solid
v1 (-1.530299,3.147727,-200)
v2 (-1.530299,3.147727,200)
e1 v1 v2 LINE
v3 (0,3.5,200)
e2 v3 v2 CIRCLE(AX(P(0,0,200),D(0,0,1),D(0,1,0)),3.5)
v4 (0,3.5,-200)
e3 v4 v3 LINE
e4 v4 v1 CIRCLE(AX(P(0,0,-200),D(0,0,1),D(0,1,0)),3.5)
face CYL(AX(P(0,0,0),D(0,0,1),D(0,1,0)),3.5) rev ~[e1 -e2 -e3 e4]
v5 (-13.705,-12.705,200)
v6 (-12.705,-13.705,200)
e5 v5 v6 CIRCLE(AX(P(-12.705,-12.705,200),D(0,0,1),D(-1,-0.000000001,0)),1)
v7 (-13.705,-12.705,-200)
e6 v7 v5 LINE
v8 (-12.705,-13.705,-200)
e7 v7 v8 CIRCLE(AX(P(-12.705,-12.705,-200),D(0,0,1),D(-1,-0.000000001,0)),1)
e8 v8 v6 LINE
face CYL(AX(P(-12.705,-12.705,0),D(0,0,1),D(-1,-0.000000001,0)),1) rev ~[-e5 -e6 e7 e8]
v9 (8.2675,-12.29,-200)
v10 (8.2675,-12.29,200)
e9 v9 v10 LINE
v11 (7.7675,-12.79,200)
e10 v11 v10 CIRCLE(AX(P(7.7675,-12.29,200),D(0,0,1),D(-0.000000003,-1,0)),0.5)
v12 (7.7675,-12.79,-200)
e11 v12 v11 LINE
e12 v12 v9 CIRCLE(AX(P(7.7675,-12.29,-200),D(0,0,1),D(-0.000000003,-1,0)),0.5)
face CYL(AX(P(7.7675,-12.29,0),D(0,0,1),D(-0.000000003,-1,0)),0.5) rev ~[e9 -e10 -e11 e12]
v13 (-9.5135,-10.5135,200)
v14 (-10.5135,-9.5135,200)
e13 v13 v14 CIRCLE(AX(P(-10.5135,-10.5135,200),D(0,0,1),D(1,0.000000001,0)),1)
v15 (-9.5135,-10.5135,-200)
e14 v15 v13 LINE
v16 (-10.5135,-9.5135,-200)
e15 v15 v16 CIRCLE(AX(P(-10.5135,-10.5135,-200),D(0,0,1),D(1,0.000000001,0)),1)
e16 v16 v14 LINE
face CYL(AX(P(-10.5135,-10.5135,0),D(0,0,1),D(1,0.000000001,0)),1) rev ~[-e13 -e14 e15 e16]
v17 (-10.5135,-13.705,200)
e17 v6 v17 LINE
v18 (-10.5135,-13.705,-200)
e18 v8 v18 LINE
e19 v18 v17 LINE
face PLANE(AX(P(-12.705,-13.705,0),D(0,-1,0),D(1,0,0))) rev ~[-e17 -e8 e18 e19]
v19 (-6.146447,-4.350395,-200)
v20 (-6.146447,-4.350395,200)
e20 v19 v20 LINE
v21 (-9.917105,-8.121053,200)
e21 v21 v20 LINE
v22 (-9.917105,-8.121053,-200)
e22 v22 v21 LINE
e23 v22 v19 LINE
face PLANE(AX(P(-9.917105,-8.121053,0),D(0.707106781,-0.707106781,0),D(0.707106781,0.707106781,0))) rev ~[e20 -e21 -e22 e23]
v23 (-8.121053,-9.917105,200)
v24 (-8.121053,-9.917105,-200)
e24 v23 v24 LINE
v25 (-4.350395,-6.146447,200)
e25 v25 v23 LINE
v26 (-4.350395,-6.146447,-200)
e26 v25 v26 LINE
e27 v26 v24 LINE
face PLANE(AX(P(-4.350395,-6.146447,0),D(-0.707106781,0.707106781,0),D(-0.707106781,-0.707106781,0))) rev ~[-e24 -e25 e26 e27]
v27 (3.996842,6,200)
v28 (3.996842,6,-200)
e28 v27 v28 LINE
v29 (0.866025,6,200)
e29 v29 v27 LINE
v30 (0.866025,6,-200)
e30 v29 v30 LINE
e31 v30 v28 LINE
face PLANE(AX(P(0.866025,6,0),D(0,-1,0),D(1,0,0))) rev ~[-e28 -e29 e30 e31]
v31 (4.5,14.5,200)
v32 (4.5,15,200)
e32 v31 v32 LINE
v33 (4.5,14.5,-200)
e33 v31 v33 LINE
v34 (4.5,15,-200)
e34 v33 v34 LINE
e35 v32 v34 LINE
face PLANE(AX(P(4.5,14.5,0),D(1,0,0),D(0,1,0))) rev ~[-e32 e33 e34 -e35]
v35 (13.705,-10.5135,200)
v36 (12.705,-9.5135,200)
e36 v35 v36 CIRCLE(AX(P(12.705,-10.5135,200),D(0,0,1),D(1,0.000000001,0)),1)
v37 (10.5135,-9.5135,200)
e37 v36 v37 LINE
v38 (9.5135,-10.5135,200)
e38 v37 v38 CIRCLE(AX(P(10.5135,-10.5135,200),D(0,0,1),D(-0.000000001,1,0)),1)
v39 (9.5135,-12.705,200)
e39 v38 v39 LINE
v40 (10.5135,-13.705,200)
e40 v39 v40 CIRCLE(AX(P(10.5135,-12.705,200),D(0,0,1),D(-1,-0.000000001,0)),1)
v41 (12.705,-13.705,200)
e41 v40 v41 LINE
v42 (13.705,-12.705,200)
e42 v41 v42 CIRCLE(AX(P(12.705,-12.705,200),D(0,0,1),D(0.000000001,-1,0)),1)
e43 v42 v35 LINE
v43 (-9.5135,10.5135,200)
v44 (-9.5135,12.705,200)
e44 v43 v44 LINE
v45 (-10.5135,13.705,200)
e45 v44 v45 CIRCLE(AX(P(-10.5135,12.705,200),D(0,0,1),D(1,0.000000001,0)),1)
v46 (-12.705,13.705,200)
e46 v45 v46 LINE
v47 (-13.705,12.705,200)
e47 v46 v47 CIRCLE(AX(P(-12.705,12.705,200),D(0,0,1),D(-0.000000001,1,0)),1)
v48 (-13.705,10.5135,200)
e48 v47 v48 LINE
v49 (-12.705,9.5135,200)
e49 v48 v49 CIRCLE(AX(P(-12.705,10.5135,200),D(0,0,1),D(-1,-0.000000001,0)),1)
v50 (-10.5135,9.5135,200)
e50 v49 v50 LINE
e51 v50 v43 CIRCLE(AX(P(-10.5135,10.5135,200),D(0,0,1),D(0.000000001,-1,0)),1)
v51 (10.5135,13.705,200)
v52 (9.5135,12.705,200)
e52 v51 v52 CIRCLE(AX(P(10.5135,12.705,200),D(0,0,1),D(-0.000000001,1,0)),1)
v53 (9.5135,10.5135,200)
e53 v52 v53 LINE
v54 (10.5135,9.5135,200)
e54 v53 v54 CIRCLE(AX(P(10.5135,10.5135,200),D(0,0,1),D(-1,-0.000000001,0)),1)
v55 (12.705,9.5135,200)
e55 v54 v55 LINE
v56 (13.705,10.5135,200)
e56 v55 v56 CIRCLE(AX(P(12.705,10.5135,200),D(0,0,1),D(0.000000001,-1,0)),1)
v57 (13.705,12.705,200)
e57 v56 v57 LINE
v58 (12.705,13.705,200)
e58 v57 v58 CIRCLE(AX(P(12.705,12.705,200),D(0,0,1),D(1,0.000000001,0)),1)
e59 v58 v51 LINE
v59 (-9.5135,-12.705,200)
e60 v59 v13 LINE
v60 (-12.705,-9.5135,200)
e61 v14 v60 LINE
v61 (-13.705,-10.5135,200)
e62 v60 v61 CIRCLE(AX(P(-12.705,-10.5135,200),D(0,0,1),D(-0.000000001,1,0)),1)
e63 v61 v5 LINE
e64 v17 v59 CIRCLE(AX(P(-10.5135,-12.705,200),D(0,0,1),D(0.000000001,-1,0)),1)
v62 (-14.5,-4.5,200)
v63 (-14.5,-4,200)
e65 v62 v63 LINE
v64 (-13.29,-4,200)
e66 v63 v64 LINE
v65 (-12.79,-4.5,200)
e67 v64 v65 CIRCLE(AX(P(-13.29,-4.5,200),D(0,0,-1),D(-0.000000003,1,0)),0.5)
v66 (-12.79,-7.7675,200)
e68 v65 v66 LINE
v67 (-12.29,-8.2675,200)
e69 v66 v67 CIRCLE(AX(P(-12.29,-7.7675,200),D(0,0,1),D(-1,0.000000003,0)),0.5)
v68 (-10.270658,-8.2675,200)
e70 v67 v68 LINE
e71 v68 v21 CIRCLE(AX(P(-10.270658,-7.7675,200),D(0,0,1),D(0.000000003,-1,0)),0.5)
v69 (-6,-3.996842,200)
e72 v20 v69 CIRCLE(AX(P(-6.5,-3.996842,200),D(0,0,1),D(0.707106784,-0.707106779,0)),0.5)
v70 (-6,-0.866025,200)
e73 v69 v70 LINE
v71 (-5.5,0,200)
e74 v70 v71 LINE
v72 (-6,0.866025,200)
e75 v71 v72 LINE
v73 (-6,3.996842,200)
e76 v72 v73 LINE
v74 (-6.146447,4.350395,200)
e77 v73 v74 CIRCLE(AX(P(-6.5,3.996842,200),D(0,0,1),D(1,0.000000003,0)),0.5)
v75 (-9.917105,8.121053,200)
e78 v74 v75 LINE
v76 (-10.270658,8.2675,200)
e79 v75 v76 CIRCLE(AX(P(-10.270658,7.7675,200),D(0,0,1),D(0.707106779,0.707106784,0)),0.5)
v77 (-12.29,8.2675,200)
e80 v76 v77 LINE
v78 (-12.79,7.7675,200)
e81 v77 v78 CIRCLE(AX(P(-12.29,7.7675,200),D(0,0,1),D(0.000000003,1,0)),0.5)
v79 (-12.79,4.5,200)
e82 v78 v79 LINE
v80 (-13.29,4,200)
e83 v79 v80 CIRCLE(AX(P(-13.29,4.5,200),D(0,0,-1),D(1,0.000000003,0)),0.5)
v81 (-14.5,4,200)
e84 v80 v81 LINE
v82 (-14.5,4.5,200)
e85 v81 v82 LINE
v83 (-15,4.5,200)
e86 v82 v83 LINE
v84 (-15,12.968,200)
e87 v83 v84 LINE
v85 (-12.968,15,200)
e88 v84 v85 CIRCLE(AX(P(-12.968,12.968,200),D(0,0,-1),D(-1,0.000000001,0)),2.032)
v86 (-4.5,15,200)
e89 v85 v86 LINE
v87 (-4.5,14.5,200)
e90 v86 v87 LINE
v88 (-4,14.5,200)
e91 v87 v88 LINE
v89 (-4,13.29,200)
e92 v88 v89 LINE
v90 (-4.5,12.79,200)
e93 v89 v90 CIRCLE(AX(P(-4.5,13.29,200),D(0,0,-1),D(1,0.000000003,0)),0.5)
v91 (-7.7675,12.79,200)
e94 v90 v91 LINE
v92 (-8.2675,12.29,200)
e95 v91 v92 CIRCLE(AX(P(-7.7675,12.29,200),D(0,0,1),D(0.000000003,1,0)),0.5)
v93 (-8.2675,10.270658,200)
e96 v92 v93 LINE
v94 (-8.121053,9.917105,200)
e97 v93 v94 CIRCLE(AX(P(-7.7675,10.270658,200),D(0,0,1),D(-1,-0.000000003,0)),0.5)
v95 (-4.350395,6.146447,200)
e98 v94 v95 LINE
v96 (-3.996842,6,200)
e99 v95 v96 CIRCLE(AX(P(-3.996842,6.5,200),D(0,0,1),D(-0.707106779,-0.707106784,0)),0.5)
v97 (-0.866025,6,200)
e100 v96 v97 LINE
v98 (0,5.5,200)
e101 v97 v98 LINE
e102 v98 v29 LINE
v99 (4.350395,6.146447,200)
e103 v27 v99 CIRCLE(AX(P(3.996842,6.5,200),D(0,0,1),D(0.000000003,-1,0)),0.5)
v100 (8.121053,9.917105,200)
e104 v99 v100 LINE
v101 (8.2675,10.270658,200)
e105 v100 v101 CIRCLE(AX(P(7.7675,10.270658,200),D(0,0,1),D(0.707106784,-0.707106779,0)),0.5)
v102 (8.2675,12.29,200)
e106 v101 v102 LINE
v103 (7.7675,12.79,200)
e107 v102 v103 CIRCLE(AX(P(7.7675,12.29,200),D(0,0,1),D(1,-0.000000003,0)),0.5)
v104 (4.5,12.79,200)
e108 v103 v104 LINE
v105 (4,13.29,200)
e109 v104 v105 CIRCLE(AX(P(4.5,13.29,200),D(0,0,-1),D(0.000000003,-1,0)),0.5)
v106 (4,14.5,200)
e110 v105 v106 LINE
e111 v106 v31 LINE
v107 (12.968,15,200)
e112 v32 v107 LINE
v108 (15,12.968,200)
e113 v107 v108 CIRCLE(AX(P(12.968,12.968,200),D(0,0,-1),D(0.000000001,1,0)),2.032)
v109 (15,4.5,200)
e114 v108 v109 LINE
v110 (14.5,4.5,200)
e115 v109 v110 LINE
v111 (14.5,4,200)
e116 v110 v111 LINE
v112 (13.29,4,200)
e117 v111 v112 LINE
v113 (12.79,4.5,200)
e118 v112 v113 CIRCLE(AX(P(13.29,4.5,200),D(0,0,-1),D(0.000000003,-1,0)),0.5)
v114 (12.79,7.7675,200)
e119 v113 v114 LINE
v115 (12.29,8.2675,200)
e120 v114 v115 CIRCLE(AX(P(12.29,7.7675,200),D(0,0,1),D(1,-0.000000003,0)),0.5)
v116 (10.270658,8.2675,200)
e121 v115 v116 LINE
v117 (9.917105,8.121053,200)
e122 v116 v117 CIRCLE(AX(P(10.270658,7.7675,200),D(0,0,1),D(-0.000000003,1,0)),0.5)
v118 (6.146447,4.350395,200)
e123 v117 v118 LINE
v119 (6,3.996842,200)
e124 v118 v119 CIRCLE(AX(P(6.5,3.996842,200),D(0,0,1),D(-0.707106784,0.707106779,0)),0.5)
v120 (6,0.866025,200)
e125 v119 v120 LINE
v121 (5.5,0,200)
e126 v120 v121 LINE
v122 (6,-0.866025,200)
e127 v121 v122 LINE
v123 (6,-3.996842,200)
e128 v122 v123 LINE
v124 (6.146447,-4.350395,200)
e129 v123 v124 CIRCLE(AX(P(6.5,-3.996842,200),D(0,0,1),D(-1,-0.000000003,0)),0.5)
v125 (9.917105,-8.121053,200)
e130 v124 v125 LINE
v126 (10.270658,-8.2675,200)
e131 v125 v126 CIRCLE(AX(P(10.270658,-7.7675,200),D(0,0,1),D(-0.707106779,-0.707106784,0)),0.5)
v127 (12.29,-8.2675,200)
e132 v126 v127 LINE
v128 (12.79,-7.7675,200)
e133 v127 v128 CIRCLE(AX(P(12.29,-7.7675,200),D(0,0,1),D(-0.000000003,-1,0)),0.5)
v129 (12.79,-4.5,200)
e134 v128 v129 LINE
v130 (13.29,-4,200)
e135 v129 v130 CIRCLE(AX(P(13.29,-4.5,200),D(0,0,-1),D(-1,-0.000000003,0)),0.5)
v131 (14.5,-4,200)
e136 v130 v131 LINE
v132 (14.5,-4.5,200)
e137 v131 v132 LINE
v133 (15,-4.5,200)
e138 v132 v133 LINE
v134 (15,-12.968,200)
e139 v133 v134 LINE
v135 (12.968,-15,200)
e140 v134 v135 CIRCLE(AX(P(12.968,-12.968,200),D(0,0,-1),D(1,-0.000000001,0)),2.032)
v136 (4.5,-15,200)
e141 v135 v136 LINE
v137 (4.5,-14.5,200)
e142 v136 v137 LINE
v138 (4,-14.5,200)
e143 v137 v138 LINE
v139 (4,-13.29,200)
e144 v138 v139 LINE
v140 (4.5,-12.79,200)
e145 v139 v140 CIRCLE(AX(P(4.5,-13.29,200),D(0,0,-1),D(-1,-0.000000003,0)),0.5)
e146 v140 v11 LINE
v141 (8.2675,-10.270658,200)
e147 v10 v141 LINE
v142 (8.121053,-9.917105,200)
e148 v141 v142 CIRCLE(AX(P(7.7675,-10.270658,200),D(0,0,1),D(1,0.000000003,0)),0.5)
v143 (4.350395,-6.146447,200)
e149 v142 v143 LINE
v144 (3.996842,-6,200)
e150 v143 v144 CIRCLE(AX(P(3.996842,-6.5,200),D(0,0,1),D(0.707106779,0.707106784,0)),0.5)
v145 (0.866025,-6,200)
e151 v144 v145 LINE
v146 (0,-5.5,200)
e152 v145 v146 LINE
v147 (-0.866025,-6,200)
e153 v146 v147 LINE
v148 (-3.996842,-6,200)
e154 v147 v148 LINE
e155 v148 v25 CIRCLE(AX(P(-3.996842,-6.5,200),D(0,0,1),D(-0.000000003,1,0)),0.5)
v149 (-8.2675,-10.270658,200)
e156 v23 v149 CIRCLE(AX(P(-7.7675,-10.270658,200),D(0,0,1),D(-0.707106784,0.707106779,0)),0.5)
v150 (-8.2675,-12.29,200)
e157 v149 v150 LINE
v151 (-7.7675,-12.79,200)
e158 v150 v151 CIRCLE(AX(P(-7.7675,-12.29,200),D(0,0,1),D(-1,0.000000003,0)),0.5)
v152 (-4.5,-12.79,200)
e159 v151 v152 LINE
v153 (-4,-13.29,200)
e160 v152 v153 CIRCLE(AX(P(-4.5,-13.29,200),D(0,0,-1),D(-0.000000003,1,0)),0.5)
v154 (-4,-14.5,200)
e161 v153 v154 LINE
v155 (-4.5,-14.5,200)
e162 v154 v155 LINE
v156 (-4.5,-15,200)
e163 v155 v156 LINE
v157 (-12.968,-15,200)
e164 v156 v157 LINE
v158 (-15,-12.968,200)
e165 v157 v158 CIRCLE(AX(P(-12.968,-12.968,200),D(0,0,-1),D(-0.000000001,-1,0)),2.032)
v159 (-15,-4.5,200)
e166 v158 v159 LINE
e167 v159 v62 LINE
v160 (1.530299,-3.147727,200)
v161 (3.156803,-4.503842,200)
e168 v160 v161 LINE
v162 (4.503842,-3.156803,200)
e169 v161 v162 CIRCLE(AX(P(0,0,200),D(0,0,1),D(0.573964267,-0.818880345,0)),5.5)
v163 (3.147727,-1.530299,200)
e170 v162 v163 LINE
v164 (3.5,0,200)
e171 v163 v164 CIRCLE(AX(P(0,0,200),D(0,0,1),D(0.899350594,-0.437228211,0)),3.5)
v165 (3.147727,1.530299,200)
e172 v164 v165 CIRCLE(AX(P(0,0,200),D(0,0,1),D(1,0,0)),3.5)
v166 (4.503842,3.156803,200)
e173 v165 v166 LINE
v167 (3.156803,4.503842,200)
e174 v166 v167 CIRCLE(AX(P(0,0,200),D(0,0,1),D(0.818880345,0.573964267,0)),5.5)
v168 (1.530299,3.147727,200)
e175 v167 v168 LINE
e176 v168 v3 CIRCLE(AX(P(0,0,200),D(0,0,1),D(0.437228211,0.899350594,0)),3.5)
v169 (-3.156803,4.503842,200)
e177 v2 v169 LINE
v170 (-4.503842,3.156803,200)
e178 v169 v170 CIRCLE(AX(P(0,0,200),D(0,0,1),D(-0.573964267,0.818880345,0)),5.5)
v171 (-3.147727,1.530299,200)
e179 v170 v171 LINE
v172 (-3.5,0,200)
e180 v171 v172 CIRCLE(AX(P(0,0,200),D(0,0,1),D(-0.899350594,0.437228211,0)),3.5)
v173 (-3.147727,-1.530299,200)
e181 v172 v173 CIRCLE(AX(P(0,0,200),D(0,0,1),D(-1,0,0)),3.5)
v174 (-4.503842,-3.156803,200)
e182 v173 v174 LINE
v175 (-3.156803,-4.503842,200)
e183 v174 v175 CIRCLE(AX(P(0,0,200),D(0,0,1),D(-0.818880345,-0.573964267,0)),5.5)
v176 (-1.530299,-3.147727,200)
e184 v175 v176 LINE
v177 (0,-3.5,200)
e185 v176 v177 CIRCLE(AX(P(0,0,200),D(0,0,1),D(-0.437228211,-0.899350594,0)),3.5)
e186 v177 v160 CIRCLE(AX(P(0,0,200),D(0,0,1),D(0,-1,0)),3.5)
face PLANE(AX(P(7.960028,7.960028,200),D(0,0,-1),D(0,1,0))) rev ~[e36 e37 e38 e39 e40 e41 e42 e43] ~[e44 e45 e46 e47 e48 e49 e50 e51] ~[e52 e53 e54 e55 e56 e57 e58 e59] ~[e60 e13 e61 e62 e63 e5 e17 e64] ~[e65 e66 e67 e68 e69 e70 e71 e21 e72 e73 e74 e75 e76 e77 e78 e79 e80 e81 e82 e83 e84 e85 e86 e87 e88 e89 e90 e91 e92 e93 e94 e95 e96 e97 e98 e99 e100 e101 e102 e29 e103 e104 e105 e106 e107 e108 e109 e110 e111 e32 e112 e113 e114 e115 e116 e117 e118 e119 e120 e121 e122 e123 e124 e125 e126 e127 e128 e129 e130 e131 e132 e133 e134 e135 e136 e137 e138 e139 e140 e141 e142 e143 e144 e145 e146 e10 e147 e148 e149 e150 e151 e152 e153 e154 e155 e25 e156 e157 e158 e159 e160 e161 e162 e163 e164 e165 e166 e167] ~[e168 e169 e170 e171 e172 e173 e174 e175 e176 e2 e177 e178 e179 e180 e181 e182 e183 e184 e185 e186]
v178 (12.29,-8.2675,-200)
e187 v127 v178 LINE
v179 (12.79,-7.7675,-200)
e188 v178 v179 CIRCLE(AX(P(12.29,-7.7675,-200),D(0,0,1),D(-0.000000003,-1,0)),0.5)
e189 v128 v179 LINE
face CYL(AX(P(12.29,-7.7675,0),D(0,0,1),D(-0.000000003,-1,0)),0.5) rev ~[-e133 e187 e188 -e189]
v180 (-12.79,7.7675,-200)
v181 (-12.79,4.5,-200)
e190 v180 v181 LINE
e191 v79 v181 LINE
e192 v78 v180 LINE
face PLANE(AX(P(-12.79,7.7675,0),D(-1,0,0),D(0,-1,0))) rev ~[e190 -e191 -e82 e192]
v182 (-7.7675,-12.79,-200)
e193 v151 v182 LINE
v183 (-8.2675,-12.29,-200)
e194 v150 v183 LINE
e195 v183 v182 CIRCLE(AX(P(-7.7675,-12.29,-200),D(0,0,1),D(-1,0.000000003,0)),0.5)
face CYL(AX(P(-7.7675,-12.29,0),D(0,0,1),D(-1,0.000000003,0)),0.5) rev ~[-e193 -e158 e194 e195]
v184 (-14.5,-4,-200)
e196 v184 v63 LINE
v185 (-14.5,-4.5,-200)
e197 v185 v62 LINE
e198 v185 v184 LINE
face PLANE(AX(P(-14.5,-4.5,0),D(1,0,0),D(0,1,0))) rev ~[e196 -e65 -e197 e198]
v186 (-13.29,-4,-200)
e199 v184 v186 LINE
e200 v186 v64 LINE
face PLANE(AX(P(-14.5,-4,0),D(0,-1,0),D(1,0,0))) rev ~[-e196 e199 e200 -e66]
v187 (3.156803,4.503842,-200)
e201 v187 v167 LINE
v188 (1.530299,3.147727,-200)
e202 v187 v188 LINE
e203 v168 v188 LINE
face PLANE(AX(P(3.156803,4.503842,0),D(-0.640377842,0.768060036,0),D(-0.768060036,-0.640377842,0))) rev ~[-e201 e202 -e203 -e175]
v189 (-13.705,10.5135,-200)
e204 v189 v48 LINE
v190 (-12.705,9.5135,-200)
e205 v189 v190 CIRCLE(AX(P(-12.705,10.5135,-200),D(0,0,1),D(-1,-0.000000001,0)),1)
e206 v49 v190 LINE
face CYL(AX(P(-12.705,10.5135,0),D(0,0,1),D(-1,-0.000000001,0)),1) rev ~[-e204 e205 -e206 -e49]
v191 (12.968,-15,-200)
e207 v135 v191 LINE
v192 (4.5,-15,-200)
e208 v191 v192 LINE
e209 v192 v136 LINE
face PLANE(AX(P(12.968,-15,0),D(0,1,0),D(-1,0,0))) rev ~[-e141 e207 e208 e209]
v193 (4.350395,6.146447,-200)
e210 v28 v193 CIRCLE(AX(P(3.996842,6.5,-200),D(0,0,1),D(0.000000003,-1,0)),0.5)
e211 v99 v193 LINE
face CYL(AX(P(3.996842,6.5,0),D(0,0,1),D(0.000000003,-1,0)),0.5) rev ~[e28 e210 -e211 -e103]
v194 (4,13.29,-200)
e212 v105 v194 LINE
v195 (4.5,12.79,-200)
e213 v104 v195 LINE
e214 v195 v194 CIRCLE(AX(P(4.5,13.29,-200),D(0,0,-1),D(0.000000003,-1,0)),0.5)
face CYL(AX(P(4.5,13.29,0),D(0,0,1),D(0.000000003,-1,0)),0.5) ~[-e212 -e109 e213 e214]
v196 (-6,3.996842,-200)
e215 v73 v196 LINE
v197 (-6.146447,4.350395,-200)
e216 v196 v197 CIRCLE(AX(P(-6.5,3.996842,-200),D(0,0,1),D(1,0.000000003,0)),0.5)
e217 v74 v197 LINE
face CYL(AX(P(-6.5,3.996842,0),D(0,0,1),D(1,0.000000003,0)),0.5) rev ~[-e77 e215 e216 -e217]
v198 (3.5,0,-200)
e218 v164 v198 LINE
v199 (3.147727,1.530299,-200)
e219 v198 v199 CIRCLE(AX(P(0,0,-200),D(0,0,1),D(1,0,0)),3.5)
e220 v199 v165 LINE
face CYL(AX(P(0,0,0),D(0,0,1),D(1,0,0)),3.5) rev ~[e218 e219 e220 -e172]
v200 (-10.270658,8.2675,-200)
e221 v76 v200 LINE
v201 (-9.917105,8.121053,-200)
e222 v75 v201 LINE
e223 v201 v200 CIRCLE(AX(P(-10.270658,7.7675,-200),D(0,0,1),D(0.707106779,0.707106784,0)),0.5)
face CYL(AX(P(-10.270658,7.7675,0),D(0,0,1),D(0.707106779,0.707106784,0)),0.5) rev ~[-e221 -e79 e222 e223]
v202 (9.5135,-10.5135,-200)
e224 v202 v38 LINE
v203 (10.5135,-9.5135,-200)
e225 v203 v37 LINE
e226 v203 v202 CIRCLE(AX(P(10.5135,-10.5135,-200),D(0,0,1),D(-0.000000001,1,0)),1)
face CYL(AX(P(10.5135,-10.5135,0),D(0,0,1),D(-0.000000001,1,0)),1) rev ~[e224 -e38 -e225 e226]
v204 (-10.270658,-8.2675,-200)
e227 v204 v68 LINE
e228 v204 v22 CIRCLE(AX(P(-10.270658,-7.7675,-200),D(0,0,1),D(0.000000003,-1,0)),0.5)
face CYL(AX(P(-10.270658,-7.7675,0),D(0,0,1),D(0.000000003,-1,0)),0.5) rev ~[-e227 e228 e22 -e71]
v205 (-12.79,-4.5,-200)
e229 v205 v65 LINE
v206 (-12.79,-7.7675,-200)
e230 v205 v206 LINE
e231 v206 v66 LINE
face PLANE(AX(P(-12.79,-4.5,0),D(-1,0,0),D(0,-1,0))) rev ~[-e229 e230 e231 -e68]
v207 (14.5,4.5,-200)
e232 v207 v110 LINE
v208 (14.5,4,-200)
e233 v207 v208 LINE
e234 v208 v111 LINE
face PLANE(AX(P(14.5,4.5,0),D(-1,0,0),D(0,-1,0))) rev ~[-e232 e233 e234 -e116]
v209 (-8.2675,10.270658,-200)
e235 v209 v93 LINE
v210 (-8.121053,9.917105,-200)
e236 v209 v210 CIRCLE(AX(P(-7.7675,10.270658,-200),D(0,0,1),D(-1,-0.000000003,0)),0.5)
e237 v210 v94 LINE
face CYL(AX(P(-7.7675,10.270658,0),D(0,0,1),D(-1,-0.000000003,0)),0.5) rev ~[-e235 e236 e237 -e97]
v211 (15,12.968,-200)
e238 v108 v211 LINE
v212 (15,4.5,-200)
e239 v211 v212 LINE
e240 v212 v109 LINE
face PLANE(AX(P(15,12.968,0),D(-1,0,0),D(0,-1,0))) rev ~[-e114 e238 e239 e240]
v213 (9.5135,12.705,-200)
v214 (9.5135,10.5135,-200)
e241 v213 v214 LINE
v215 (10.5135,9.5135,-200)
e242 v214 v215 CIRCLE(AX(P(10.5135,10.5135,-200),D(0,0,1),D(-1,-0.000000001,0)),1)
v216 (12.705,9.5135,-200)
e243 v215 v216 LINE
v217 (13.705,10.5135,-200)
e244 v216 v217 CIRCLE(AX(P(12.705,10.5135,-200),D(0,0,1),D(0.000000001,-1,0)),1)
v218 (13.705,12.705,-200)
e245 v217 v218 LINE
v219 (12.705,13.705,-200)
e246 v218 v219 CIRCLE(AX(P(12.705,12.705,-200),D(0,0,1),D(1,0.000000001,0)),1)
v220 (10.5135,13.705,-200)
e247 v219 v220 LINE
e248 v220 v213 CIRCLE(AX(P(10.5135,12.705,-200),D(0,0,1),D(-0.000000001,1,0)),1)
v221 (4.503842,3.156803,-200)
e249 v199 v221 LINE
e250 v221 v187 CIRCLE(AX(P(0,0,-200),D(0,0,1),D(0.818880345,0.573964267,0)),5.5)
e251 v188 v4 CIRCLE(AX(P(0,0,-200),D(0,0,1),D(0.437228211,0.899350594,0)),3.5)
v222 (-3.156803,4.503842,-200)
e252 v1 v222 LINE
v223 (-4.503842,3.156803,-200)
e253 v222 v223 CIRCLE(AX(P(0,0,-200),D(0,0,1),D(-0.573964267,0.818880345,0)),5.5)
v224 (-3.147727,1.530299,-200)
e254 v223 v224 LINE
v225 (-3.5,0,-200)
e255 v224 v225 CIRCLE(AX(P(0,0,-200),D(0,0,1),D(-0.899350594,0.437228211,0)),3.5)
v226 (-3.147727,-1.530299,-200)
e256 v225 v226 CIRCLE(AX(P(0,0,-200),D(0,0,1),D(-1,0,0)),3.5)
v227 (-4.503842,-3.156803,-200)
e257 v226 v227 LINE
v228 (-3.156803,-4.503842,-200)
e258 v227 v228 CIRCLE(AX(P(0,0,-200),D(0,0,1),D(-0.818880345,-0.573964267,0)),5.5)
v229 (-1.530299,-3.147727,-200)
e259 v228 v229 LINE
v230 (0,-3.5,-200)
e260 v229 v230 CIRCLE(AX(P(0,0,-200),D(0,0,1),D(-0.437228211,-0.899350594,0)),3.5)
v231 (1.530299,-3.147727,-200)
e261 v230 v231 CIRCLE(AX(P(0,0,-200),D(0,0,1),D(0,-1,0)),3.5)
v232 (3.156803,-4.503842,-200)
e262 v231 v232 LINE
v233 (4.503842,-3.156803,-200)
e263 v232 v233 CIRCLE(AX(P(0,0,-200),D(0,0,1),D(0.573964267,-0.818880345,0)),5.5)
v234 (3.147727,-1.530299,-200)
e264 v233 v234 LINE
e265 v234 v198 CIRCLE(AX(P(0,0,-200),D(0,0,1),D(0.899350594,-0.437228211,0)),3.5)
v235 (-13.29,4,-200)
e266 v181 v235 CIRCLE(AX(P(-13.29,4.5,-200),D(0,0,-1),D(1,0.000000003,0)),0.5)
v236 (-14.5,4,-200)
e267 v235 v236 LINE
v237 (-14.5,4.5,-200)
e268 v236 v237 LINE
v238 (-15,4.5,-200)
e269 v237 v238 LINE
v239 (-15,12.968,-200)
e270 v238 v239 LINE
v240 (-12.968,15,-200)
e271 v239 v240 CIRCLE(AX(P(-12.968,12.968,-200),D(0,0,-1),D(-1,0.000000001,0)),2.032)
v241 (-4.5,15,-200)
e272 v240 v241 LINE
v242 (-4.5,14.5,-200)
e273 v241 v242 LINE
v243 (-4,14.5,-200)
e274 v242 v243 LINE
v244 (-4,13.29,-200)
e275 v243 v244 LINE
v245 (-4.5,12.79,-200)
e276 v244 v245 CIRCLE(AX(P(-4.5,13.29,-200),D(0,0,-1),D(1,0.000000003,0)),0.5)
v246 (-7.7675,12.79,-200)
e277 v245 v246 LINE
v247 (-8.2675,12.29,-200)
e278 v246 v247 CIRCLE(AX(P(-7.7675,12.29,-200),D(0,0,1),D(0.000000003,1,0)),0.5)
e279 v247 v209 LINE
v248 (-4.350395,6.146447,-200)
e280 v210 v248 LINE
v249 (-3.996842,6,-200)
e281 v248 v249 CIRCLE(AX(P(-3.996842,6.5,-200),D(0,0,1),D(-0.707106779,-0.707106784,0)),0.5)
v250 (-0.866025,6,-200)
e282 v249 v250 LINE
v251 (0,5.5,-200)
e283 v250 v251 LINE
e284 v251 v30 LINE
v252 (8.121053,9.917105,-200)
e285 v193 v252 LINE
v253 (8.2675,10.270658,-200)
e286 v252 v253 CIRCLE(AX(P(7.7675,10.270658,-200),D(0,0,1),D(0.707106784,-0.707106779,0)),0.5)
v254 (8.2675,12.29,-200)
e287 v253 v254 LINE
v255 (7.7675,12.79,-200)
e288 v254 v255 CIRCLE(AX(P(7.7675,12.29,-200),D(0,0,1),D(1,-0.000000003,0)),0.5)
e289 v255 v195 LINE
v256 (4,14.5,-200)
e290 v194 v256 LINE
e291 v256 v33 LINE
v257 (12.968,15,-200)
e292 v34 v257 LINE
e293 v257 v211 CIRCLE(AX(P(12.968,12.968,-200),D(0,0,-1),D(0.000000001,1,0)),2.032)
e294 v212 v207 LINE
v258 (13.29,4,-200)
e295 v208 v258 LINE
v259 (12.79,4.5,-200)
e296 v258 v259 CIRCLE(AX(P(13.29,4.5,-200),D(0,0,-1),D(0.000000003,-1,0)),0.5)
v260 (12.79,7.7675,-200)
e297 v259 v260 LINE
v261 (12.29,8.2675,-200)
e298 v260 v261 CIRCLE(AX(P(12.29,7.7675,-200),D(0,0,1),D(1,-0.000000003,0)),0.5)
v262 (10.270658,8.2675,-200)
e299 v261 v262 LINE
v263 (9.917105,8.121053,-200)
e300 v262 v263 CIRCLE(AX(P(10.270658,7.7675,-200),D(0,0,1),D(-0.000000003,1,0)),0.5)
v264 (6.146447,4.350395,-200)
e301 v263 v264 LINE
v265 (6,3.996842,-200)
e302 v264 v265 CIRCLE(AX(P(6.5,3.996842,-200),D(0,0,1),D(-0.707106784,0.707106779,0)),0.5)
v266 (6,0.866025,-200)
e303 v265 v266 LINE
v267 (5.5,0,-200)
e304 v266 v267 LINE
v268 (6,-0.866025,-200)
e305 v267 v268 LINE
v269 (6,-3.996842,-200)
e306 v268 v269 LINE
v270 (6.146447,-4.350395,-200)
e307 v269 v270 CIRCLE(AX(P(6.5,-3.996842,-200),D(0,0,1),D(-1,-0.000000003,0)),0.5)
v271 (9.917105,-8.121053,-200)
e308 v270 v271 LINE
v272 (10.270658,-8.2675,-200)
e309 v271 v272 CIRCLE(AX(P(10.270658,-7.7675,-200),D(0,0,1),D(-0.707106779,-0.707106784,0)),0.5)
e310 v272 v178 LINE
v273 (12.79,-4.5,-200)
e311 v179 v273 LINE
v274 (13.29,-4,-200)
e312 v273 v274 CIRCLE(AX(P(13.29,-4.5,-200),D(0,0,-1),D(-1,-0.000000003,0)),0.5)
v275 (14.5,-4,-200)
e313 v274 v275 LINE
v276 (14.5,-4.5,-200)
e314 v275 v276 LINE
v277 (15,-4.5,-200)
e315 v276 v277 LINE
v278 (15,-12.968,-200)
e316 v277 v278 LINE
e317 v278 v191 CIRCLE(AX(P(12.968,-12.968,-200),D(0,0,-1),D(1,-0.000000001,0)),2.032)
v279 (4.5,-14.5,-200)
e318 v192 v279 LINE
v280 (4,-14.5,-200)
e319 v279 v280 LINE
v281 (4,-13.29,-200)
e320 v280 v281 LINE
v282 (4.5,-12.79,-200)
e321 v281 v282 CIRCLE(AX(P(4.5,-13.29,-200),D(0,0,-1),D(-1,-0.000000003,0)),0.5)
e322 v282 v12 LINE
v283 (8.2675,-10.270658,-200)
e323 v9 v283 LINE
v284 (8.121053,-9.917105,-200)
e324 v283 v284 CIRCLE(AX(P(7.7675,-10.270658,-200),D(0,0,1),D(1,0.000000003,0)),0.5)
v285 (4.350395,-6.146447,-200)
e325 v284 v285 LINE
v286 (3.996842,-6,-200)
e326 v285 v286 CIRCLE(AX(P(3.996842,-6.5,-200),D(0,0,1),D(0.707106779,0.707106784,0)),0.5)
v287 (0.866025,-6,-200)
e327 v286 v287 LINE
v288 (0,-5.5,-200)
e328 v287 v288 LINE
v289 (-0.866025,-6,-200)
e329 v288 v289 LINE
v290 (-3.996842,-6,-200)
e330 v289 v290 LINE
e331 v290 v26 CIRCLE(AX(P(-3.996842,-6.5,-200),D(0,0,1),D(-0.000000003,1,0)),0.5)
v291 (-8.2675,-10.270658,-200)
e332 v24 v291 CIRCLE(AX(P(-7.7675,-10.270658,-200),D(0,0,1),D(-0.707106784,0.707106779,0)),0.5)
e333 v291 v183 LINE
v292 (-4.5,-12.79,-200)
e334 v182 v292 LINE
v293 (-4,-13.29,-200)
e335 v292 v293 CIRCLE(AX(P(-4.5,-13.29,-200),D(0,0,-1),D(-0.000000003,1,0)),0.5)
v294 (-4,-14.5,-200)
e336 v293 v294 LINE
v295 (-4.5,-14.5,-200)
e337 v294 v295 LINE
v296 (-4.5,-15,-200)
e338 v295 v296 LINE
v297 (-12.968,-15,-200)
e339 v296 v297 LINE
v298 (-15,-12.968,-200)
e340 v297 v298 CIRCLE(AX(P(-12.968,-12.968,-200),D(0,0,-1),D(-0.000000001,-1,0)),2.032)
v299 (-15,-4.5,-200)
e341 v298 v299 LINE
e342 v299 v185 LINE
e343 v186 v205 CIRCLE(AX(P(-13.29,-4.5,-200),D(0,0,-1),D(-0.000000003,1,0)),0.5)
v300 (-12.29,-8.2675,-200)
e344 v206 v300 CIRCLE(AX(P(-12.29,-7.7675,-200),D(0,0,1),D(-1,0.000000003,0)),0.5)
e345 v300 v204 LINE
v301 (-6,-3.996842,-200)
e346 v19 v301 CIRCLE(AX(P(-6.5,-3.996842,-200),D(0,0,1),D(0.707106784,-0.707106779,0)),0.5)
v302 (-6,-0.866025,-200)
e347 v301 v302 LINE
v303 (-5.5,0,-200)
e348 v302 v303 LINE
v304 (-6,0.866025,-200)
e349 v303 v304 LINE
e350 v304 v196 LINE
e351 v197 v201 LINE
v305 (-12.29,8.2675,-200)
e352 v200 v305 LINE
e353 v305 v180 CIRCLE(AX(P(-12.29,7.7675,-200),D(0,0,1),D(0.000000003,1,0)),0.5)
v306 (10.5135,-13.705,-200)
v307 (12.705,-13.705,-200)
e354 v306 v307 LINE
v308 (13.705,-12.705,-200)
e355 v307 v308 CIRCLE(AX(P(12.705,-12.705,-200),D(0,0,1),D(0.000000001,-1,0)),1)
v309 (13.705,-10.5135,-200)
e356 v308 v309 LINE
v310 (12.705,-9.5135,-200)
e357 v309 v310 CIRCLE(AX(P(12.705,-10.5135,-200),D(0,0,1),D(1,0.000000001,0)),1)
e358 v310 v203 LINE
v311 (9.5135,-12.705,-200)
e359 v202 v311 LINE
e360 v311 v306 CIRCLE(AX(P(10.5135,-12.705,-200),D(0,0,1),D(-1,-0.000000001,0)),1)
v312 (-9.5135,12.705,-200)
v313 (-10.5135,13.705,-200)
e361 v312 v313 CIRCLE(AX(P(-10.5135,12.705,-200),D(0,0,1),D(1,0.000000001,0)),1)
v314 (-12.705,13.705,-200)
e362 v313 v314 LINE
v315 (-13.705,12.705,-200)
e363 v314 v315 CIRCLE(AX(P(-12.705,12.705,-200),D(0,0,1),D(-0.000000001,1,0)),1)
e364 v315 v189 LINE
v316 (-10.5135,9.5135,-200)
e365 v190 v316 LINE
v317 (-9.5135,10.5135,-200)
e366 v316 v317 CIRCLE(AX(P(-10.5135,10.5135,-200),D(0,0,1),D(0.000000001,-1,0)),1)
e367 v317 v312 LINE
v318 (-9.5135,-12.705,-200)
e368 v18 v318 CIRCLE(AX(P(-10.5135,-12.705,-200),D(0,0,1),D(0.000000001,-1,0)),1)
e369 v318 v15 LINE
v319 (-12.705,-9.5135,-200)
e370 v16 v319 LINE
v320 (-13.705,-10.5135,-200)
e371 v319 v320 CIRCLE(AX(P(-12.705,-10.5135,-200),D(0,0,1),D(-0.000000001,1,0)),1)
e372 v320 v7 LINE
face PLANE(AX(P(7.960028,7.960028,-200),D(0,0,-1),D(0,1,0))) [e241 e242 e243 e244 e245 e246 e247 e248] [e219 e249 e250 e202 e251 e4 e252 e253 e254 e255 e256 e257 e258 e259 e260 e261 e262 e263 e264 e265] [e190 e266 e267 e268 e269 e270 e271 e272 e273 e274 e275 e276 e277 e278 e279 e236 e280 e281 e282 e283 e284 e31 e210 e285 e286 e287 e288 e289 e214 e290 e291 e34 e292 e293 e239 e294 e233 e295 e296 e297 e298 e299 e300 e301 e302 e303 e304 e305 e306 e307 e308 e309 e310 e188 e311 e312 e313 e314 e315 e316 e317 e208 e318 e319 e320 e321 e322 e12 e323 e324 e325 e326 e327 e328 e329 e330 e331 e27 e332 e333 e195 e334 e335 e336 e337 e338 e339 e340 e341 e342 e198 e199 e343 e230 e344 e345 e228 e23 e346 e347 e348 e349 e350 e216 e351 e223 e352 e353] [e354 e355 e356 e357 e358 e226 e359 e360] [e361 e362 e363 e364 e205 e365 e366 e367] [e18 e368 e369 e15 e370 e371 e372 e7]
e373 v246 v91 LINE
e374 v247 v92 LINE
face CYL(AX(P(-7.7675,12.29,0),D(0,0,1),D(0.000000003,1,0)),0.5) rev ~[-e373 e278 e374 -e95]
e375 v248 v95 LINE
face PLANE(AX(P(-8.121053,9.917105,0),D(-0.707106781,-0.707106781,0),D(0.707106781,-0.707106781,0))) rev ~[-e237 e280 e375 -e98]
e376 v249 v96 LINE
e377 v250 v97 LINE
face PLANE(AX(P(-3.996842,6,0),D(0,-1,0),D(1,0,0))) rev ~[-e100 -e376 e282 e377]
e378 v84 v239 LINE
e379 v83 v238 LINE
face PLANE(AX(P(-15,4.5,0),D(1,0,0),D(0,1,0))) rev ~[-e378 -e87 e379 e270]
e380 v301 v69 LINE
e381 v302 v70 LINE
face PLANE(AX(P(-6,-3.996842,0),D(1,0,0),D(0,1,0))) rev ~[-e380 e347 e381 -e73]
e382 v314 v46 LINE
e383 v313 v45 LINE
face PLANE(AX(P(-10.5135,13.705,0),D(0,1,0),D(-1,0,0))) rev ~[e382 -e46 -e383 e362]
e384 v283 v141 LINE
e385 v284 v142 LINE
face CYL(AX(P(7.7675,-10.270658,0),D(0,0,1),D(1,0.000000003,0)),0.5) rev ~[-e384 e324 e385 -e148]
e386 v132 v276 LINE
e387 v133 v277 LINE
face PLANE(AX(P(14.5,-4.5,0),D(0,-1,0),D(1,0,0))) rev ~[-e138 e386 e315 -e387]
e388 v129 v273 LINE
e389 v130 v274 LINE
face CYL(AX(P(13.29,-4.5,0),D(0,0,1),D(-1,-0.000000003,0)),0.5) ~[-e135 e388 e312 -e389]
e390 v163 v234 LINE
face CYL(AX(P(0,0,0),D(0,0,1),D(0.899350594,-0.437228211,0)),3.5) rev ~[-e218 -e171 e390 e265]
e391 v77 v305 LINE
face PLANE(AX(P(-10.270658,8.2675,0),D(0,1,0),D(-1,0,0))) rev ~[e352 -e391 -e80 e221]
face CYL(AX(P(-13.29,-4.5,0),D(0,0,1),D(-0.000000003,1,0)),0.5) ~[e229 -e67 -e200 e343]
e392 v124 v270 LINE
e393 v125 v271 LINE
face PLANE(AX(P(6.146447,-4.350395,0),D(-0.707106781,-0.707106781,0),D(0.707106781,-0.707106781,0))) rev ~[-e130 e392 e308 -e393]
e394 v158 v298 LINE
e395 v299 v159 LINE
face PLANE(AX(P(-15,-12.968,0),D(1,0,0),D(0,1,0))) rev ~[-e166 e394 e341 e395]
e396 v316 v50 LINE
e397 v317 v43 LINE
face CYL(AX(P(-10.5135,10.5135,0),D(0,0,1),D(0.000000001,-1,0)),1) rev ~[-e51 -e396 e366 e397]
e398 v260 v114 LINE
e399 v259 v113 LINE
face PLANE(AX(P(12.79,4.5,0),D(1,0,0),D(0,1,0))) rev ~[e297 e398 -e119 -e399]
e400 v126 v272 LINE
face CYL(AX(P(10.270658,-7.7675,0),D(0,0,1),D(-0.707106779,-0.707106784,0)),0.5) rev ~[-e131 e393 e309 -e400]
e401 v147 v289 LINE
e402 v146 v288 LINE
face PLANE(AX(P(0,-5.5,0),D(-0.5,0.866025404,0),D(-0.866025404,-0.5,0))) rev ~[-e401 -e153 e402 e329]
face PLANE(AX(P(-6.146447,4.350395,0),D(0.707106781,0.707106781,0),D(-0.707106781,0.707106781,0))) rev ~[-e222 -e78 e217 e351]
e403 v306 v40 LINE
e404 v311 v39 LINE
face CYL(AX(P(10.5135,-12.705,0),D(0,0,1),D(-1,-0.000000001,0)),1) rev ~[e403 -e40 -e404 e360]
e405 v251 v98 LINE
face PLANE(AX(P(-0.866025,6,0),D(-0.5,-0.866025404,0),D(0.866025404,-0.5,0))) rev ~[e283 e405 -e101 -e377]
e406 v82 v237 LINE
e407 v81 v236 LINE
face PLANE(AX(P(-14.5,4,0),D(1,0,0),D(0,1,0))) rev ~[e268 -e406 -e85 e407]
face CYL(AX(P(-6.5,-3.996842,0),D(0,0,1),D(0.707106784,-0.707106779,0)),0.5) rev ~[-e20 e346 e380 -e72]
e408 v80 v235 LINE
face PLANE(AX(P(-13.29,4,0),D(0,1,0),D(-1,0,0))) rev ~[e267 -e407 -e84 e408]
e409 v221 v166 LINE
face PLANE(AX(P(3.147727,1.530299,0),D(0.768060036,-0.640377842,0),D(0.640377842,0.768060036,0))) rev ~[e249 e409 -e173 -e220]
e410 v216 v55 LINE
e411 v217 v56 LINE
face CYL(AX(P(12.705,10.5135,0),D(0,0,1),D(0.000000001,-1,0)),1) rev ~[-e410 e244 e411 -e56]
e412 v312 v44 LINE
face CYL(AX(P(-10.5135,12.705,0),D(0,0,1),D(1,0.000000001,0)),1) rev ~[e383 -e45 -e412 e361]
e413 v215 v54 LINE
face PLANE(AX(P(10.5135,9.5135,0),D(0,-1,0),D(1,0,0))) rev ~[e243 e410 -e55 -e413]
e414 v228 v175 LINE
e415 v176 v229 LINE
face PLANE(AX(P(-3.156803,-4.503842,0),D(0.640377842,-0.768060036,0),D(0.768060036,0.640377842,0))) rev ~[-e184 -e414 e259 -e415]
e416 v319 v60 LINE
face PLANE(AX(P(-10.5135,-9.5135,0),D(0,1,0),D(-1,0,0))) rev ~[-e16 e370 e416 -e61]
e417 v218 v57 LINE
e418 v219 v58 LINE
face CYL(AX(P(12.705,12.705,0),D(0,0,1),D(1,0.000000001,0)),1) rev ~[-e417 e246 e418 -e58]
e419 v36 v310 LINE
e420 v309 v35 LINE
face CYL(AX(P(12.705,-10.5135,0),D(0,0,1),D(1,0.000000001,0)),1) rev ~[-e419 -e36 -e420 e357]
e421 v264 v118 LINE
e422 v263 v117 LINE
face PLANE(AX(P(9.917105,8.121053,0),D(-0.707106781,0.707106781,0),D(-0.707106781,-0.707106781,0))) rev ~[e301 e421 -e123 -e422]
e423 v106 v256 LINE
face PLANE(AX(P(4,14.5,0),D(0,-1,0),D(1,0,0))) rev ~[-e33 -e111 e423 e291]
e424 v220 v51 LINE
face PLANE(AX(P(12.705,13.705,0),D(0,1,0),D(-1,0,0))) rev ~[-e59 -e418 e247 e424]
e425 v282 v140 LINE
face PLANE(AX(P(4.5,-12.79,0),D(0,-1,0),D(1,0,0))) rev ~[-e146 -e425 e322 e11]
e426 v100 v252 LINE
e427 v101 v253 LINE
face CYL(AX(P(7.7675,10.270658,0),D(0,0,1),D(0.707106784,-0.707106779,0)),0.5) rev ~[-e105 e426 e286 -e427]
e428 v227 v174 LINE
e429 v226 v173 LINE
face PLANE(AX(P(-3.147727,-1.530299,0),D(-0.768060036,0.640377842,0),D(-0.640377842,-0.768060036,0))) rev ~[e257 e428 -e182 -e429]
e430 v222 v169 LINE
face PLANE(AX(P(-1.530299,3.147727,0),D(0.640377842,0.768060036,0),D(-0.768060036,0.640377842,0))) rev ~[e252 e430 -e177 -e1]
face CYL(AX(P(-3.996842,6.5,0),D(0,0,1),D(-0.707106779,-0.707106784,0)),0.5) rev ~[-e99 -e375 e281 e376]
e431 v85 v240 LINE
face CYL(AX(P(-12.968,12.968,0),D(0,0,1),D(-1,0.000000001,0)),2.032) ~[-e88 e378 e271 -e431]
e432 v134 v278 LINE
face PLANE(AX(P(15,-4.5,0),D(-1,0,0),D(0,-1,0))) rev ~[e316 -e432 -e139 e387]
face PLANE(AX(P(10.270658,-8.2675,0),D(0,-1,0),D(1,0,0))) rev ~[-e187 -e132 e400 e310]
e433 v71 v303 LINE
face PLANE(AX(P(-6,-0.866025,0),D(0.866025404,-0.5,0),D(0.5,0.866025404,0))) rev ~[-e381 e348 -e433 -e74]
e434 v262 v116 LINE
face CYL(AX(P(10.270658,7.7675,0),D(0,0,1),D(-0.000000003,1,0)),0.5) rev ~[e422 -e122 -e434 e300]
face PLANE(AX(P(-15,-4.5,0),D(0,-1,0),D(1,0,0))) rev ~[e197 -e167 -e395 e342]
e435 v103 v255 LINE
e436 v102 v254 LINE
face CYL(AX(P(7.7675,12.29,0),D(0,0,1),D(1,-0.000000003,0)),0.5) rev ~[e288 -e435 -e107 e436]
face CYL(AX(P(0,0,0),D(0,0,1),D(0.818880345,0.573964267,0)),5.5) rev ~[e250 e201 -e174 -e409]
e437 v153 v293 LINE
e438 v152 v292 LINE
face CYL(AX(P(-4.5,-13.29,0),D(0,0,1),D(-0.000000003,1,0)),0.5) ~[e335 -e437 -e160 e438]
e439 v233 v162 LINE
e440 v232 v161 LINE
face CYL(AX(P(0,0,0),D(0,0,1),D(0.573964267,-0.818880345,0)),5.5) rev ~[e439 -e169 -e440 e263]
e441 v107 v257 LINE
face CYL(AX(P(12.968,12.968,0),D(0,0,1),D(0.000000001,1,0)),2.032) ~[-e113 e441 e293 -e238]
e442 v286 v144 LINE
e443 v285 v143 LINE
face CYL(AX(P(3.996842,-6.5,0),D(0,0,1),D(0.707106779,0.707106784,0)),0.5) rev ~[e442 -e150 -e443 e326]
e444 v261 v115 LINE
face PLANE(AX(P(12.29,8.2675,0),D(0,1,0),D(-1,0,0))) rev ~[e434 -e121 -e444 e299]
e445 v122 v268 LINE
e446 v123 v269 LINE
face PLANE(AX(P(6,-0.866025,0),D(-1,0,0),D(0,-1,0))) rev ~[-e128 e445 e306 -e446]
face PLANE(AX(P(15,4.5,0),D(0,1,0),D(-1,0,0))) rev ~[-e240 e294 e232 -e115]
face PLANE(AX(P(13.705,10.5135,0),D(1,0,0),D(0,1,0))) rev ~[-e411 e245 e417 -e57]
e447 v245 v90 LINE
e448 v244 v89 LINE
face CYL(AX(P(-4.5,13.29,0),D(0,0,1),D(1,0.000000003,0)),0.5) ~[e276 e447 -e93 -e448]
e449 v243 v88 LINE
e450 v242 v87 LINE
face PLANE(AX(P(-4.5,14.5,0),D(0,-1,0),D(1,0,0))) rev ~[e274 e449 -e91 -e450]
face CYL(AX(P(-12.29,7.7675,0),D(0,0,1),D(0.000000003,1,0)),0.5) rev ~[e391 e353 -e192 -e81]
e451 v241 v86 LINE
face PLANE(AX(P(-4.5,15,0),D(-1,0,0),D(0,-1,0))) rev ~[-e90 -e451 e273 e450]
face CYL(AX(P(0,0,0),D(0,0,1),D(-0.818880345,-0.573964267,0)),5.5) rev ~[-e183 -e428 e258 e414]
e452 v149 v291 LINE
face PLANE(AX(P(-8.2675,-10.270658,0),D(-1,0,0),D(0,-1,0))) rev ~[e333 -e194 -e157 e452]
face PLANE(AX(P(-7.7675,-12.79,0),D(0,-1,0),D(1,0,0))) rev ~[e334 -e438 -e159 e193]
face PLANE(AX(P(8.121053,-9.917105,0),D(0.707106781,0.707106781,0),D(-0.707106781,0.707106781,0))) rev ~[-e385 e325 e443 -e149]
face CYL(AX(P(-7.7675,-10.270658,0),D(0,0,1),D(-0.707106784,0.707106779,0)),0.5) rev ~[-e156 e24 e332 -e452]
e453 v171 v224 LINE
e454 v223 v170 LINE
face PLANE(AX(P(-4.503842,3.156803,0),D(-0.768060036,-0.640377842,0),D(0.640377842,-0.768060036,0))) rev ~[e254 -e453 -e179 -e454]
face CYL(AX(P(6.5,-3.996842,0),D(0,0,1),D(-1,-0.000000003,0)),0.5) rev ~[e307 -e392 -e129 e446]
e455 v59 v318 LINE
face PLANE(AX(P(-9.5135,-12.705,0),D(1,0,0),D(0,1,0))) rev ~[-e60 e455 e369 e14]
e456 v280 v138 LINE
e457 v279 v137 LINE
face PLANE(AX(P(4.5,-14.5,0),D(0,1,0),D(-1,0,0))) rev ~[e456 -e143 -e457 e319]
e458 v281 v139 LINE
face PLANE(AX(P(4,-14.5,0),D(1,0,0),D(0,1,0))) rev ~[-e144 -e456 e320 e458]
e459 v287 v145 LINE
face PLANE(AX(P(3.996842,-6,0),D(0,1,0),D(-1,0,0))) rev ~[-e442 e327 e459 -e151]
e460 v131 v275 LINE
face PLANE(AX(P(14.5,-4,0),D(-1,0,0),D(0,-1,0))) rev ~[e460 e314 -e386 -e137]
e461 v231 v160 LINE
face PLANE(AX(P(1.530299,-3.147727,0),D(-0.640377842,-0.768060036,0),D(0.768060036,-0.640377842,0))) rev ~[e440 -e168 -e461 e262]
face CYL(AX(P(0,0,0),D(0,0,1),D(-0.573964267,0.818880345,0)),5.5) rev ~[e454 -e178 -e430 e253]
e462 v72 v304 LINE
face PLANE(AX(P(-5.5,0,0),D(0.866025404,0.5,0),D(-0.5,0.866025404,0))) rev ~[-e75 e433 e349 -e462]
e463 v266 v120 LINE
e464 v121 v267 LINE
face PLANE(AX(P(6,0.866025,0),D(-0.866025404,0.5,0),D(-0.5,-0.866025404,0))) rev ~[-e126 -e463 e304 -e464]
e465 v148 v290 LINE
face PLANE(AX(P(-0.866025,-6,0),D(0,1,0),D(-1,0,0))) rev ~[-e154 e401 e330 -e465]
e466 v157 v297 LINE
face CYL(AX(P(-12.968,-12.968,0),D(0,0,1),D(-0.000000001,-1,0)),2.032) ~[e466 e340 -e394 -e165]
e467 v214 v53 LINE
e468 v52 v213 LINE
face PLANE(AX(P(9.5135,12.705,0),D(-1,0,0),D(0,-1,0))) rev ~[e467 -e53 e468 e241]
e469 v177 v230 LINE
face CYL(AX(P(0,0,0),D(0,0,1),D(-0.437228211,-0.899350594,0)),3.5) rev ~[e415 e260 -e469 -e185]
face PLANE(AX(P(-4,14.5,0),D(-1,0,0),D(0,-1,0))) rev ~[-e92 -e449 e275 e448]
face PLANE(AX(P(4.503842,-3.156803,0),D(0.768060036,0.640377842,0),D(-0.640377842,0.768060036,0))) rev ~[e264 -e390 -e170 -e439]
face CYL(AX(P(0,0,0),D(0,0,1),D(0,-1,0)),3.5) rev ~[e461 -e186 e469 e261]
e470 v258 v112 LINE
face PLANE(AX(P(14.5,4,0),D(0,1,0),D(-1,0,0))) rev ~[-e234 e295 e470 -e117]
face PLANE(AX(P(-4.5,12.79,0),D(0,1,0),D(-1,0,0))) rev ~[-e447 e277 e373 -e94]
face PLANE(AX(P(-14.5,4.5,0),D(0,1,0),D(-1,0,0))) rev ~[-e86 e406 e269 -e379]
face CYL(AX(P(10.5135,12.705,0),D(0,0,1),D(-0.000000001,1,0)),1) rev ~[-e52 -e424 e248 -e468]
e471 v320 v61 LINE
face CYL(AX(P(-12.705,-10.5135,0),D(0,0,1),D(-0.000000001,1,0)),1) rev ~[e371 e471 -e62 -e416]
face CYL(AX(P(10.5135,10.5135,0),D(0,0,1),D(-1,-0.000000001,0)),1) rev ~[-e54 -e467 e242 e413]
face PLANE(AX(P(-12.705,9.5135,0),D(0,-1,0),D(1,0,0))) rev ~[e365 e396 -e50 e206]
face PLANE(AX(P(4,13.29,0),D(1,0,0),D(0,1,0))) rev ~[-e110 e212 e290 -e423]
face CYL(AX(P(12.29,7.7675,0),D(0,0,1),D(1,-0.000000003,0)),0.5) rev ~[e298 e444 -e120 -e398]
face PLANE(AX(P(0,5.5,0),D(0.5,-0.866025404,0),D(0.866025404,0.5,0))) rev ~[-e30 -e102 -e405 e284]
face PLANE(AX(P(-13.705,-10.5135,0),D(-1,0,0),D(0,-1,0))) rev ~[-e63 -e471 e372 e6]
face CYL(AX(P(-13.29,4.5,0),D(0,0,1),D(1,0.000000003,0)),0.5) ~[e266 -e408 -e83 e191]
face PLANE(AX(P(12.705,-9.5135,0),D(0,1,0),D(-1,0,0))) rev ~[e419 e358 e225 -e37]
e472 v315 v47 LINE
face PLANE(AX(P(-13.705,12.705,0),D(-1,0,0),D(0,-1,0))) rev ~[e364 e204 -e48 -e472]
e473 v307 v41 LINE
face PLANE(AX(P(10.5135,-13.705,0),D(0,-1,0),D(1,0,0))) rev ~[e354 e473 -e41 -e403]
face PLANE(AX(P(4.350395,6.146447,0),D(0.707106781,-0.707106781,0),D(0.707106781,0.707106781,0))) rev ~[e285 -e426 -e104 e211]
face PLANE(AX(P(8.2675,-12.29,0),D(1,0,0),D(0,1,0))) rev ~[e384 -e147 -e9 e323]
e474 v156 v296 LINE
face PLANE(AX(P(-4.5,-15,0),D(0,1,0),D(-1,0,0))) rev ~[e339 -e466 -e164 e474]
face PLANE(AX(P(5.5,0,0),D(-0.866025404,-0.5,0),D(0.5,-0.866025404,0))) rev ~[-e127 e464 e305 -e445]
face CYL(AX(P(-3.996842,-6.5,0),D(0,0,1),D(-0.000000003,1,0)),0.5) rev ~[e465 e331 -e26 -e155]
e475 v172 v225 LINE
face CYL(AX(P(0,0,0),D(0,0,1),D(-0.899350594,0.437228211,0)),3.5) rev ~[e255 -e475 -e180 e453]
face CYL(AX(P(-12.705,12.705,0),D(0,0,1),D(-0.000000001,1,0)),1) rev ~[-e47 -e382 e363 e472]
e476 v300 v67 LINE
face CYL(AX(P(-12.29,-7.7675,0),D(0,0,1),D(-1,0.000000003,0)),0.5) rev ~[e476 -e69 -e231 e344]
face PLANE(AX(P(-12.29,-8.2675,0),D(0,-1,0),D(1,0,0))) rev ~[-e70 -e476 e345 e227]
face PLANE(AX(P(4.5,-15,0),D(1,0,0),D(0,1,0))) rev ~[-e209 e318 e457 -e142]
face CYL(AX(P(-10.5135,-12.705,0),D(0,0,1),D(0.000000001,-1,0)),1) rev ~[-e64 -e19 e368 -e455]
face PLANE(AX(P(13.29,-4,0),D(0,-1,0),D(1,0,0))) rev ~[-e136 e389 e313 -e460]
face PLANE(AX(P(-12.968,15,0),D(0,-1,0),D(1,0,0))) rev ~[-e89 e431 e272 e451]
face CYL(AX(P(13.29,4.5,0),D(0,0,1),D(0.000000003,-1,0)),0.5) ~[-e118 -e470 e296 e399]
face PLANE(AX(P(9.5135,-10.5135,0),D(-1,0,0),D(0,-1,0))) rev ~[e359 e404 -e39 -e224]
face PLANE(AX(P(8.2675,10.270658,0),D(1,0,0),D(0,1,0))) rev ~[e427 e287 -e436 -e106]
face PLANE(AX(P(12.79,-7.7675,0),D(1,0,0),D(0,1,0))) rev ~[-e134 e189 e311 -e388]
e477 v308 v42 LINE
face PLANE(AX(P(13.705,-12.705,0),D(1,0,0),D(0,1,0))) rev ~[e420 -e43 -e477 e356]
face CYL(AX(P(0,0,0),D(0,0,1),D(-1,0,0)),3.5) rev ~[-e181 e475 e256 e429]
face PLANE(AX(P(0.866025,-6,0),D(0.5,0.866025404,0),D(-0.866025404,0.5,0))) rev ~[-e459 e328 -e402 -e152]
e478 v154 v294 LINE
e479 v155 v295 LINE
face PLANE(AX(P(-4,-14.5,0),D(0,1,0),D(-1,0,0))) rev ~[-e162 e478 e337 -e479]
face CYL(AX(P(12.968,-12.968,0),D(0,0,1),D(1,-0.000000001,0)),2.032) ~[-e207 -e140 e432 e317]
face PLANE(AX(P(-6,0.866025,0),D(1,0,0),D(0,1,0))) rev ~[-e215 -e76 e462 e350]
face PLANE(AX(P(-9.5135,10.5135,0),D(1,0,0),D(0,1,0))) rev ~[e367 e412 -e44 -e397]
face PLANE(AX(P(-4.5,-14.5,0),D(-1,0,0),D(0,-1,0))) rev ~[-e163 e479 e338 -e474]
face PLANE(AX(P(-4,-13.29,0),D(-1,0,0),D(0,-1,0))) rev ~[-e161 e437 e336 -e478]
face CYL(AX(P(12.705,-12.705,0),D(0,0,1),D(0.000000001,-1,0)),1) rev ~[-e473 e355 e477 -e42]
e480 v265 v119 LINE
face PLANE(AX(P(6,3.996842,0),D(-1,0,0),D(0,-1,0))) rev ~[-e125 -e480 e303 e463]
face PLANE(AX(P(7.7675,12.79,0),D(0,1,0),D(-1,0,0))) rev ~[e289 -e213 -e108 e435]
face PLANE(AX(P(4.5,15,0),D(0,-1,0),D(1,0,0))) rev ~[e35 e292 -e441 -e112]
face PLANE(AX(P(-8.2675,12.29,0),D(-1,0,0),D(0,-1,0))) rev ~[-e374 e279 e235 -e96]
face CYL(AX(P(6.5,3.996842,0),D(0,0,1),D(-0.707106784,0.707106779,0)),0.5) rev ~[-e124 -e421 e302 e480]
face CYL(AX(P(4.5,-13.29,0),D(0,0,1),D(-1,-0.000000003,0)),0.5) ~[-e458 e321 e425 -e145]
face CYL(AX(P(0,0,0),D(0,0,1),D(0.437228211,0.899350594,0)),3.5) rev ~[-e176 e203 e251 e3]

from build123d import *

# Parameters (mm, degrees)
BOSS_EXTRUDE1_DEPTH = 200
CIRPATTERN1_COUNT   = 4


with BuildPart() as part:
    # Sketch3 → Boss-Extrude1 (new, symmetric)
    with BuildSketch(Plane.XY):
        with BuildLine():
            Line((-4.503841895, 3.156803476), (-3.14772708, 1.530298739))
            ThreePointArc((-3.14772708, 1.530298739), (-3.410794979, 0.785160882), (-3.5, 0))
            Line((-3.5, 0), (-5.5, 0))
            Line((-5.5, 0), (-6, 0.866025404))
            Line((-6, 0.866025404), (-6, 3.996841995))
            ThreePointArc((-6, 3.996841995), (-6.038060234, 4.188183711), (-6.146446609, 4.350395385))
            Line((-6.146446609, 4.350395385), (-9.917104615, 8.121053391))
            ThreePointArc((-9.917104615, 8.121053391), (-10.079316289, 8.229439766), (-10.270658005, 8.2675))
            Line((-10.270658005, 8.2675), (-12.29, 8.2675))
            ThreePointArc((-12.29, 8.2675), (-12.643553391, 8.121053391), (-12.79, 7.7675))
            Line((-12.79, 7.7675), (-12.79, 4.5))
            ThreePointArc((-12.79, 4.5), (-12.936446609, 4.146446609), (-13.29, 4))
            Line((-13.29, 4), (-14.5, 4))
            Line((-14.5, 4), (-14.5, 4.5))
            Line((-14.5, 4.5), (-15, 4.5))
            Line((-15, 4.5), (-15, 12.968))
            ThreePointArc((-15, 12.968), (-14.404840979, 14.404840979), (-12.968, 15))
            Line((-12.968, 15), (-4.5, 15))
            Line((-4.5, 15), (-4.5, 14.5))
            Line((-4.5, 14.5), (-4, 14.5))
            Line((-4, 14.5), (-4, 13.29))
            ThreePointArc((-4, 13.29), (-4.146446609, 12.936446609), (-4.5, 12.79))
            Line((-4.5, 12.79), (-7.7675, 12.79))
            ThreePointArc((-7.7675, 12.79), (-8.121053391, 12.643553391), (-8.2675, 12.29))
            Line((-8.2675, 12.29), (-8.2675, 10.270658005))
            ThreePointArc((-8.2675, 10.270658005), (-8.229439766, 10.079316289), (-8.121053391, 9.917104615))
            Line((-8.121053391, 9.917104615), (-4.350395385, 6.146446609))
            ThreePointArc((-4.350395385, 6.146446609), (-4.188183711, 6.038060234), (-3.996841995, 6))
            Line((-3.996841995, 6), (-0.866025404, 6))
            Line((-0.866025404, 6), (0, 5.5))
            Line((0, 5.5), (0, 3.5))
            ThreePointArc((0, 3.5), (-0.785160882, 3.410794979), (-1.530298739, 3.14772708))
            Line((-1.530298739, 3.14772708), (-3.156803476, 4.503841895))
            ThreePointArc((-3.156803476, 4.503841895), (-3.889087297, 3.889087297), (-4.503841895, 3.156803476))
        make_face()
        with BuildLine():
            Line((-12.705, 9.5135), (-10.5135, 9.5135))
            ThreePointArc((-10.5135, 9.5135), (-9.806393219, 9.806393219), (-9.5135, 10.5135))
            Line((-9.5135, 10.5135), (-9.5135, 12.705))
            ThreePointArc((-9.5135, 12.705), (-9.806393219, 13.412106781), (-10.5135, 13.705))
            Line((-10.5135, 13.705), (-12.705, 13.705))
            ThreePointArc((-12.705, 13.705), (-13.412106781, 13.412106781), (-13.705, 12.705))
            Line((-13.705, 12.705), (-13.705, 10.5135))
            ThreePointArc((-13.705, 10.5135), (-13.412106781, 9.806393219), (-12.705, 9.5135))
        make_face(mode=Mode.SUBTRACT)
    boss_extrude1 = extrude(amount=BOSS_EXTRUDE1_DEPTH, both=True)

    # CirPattern1: Boss-Extrude1 ×4 about axis
    cirpattern1_axis = Axis((0, 0, 0), (0, 0, 1))
    for i in range(1, CIRPATTERN1_COUNT):
        add(boss_extrude1.rotate(cirpattern1_axis, i * 360 / CIRPATTERN1_COUNT))


solid = part.part
